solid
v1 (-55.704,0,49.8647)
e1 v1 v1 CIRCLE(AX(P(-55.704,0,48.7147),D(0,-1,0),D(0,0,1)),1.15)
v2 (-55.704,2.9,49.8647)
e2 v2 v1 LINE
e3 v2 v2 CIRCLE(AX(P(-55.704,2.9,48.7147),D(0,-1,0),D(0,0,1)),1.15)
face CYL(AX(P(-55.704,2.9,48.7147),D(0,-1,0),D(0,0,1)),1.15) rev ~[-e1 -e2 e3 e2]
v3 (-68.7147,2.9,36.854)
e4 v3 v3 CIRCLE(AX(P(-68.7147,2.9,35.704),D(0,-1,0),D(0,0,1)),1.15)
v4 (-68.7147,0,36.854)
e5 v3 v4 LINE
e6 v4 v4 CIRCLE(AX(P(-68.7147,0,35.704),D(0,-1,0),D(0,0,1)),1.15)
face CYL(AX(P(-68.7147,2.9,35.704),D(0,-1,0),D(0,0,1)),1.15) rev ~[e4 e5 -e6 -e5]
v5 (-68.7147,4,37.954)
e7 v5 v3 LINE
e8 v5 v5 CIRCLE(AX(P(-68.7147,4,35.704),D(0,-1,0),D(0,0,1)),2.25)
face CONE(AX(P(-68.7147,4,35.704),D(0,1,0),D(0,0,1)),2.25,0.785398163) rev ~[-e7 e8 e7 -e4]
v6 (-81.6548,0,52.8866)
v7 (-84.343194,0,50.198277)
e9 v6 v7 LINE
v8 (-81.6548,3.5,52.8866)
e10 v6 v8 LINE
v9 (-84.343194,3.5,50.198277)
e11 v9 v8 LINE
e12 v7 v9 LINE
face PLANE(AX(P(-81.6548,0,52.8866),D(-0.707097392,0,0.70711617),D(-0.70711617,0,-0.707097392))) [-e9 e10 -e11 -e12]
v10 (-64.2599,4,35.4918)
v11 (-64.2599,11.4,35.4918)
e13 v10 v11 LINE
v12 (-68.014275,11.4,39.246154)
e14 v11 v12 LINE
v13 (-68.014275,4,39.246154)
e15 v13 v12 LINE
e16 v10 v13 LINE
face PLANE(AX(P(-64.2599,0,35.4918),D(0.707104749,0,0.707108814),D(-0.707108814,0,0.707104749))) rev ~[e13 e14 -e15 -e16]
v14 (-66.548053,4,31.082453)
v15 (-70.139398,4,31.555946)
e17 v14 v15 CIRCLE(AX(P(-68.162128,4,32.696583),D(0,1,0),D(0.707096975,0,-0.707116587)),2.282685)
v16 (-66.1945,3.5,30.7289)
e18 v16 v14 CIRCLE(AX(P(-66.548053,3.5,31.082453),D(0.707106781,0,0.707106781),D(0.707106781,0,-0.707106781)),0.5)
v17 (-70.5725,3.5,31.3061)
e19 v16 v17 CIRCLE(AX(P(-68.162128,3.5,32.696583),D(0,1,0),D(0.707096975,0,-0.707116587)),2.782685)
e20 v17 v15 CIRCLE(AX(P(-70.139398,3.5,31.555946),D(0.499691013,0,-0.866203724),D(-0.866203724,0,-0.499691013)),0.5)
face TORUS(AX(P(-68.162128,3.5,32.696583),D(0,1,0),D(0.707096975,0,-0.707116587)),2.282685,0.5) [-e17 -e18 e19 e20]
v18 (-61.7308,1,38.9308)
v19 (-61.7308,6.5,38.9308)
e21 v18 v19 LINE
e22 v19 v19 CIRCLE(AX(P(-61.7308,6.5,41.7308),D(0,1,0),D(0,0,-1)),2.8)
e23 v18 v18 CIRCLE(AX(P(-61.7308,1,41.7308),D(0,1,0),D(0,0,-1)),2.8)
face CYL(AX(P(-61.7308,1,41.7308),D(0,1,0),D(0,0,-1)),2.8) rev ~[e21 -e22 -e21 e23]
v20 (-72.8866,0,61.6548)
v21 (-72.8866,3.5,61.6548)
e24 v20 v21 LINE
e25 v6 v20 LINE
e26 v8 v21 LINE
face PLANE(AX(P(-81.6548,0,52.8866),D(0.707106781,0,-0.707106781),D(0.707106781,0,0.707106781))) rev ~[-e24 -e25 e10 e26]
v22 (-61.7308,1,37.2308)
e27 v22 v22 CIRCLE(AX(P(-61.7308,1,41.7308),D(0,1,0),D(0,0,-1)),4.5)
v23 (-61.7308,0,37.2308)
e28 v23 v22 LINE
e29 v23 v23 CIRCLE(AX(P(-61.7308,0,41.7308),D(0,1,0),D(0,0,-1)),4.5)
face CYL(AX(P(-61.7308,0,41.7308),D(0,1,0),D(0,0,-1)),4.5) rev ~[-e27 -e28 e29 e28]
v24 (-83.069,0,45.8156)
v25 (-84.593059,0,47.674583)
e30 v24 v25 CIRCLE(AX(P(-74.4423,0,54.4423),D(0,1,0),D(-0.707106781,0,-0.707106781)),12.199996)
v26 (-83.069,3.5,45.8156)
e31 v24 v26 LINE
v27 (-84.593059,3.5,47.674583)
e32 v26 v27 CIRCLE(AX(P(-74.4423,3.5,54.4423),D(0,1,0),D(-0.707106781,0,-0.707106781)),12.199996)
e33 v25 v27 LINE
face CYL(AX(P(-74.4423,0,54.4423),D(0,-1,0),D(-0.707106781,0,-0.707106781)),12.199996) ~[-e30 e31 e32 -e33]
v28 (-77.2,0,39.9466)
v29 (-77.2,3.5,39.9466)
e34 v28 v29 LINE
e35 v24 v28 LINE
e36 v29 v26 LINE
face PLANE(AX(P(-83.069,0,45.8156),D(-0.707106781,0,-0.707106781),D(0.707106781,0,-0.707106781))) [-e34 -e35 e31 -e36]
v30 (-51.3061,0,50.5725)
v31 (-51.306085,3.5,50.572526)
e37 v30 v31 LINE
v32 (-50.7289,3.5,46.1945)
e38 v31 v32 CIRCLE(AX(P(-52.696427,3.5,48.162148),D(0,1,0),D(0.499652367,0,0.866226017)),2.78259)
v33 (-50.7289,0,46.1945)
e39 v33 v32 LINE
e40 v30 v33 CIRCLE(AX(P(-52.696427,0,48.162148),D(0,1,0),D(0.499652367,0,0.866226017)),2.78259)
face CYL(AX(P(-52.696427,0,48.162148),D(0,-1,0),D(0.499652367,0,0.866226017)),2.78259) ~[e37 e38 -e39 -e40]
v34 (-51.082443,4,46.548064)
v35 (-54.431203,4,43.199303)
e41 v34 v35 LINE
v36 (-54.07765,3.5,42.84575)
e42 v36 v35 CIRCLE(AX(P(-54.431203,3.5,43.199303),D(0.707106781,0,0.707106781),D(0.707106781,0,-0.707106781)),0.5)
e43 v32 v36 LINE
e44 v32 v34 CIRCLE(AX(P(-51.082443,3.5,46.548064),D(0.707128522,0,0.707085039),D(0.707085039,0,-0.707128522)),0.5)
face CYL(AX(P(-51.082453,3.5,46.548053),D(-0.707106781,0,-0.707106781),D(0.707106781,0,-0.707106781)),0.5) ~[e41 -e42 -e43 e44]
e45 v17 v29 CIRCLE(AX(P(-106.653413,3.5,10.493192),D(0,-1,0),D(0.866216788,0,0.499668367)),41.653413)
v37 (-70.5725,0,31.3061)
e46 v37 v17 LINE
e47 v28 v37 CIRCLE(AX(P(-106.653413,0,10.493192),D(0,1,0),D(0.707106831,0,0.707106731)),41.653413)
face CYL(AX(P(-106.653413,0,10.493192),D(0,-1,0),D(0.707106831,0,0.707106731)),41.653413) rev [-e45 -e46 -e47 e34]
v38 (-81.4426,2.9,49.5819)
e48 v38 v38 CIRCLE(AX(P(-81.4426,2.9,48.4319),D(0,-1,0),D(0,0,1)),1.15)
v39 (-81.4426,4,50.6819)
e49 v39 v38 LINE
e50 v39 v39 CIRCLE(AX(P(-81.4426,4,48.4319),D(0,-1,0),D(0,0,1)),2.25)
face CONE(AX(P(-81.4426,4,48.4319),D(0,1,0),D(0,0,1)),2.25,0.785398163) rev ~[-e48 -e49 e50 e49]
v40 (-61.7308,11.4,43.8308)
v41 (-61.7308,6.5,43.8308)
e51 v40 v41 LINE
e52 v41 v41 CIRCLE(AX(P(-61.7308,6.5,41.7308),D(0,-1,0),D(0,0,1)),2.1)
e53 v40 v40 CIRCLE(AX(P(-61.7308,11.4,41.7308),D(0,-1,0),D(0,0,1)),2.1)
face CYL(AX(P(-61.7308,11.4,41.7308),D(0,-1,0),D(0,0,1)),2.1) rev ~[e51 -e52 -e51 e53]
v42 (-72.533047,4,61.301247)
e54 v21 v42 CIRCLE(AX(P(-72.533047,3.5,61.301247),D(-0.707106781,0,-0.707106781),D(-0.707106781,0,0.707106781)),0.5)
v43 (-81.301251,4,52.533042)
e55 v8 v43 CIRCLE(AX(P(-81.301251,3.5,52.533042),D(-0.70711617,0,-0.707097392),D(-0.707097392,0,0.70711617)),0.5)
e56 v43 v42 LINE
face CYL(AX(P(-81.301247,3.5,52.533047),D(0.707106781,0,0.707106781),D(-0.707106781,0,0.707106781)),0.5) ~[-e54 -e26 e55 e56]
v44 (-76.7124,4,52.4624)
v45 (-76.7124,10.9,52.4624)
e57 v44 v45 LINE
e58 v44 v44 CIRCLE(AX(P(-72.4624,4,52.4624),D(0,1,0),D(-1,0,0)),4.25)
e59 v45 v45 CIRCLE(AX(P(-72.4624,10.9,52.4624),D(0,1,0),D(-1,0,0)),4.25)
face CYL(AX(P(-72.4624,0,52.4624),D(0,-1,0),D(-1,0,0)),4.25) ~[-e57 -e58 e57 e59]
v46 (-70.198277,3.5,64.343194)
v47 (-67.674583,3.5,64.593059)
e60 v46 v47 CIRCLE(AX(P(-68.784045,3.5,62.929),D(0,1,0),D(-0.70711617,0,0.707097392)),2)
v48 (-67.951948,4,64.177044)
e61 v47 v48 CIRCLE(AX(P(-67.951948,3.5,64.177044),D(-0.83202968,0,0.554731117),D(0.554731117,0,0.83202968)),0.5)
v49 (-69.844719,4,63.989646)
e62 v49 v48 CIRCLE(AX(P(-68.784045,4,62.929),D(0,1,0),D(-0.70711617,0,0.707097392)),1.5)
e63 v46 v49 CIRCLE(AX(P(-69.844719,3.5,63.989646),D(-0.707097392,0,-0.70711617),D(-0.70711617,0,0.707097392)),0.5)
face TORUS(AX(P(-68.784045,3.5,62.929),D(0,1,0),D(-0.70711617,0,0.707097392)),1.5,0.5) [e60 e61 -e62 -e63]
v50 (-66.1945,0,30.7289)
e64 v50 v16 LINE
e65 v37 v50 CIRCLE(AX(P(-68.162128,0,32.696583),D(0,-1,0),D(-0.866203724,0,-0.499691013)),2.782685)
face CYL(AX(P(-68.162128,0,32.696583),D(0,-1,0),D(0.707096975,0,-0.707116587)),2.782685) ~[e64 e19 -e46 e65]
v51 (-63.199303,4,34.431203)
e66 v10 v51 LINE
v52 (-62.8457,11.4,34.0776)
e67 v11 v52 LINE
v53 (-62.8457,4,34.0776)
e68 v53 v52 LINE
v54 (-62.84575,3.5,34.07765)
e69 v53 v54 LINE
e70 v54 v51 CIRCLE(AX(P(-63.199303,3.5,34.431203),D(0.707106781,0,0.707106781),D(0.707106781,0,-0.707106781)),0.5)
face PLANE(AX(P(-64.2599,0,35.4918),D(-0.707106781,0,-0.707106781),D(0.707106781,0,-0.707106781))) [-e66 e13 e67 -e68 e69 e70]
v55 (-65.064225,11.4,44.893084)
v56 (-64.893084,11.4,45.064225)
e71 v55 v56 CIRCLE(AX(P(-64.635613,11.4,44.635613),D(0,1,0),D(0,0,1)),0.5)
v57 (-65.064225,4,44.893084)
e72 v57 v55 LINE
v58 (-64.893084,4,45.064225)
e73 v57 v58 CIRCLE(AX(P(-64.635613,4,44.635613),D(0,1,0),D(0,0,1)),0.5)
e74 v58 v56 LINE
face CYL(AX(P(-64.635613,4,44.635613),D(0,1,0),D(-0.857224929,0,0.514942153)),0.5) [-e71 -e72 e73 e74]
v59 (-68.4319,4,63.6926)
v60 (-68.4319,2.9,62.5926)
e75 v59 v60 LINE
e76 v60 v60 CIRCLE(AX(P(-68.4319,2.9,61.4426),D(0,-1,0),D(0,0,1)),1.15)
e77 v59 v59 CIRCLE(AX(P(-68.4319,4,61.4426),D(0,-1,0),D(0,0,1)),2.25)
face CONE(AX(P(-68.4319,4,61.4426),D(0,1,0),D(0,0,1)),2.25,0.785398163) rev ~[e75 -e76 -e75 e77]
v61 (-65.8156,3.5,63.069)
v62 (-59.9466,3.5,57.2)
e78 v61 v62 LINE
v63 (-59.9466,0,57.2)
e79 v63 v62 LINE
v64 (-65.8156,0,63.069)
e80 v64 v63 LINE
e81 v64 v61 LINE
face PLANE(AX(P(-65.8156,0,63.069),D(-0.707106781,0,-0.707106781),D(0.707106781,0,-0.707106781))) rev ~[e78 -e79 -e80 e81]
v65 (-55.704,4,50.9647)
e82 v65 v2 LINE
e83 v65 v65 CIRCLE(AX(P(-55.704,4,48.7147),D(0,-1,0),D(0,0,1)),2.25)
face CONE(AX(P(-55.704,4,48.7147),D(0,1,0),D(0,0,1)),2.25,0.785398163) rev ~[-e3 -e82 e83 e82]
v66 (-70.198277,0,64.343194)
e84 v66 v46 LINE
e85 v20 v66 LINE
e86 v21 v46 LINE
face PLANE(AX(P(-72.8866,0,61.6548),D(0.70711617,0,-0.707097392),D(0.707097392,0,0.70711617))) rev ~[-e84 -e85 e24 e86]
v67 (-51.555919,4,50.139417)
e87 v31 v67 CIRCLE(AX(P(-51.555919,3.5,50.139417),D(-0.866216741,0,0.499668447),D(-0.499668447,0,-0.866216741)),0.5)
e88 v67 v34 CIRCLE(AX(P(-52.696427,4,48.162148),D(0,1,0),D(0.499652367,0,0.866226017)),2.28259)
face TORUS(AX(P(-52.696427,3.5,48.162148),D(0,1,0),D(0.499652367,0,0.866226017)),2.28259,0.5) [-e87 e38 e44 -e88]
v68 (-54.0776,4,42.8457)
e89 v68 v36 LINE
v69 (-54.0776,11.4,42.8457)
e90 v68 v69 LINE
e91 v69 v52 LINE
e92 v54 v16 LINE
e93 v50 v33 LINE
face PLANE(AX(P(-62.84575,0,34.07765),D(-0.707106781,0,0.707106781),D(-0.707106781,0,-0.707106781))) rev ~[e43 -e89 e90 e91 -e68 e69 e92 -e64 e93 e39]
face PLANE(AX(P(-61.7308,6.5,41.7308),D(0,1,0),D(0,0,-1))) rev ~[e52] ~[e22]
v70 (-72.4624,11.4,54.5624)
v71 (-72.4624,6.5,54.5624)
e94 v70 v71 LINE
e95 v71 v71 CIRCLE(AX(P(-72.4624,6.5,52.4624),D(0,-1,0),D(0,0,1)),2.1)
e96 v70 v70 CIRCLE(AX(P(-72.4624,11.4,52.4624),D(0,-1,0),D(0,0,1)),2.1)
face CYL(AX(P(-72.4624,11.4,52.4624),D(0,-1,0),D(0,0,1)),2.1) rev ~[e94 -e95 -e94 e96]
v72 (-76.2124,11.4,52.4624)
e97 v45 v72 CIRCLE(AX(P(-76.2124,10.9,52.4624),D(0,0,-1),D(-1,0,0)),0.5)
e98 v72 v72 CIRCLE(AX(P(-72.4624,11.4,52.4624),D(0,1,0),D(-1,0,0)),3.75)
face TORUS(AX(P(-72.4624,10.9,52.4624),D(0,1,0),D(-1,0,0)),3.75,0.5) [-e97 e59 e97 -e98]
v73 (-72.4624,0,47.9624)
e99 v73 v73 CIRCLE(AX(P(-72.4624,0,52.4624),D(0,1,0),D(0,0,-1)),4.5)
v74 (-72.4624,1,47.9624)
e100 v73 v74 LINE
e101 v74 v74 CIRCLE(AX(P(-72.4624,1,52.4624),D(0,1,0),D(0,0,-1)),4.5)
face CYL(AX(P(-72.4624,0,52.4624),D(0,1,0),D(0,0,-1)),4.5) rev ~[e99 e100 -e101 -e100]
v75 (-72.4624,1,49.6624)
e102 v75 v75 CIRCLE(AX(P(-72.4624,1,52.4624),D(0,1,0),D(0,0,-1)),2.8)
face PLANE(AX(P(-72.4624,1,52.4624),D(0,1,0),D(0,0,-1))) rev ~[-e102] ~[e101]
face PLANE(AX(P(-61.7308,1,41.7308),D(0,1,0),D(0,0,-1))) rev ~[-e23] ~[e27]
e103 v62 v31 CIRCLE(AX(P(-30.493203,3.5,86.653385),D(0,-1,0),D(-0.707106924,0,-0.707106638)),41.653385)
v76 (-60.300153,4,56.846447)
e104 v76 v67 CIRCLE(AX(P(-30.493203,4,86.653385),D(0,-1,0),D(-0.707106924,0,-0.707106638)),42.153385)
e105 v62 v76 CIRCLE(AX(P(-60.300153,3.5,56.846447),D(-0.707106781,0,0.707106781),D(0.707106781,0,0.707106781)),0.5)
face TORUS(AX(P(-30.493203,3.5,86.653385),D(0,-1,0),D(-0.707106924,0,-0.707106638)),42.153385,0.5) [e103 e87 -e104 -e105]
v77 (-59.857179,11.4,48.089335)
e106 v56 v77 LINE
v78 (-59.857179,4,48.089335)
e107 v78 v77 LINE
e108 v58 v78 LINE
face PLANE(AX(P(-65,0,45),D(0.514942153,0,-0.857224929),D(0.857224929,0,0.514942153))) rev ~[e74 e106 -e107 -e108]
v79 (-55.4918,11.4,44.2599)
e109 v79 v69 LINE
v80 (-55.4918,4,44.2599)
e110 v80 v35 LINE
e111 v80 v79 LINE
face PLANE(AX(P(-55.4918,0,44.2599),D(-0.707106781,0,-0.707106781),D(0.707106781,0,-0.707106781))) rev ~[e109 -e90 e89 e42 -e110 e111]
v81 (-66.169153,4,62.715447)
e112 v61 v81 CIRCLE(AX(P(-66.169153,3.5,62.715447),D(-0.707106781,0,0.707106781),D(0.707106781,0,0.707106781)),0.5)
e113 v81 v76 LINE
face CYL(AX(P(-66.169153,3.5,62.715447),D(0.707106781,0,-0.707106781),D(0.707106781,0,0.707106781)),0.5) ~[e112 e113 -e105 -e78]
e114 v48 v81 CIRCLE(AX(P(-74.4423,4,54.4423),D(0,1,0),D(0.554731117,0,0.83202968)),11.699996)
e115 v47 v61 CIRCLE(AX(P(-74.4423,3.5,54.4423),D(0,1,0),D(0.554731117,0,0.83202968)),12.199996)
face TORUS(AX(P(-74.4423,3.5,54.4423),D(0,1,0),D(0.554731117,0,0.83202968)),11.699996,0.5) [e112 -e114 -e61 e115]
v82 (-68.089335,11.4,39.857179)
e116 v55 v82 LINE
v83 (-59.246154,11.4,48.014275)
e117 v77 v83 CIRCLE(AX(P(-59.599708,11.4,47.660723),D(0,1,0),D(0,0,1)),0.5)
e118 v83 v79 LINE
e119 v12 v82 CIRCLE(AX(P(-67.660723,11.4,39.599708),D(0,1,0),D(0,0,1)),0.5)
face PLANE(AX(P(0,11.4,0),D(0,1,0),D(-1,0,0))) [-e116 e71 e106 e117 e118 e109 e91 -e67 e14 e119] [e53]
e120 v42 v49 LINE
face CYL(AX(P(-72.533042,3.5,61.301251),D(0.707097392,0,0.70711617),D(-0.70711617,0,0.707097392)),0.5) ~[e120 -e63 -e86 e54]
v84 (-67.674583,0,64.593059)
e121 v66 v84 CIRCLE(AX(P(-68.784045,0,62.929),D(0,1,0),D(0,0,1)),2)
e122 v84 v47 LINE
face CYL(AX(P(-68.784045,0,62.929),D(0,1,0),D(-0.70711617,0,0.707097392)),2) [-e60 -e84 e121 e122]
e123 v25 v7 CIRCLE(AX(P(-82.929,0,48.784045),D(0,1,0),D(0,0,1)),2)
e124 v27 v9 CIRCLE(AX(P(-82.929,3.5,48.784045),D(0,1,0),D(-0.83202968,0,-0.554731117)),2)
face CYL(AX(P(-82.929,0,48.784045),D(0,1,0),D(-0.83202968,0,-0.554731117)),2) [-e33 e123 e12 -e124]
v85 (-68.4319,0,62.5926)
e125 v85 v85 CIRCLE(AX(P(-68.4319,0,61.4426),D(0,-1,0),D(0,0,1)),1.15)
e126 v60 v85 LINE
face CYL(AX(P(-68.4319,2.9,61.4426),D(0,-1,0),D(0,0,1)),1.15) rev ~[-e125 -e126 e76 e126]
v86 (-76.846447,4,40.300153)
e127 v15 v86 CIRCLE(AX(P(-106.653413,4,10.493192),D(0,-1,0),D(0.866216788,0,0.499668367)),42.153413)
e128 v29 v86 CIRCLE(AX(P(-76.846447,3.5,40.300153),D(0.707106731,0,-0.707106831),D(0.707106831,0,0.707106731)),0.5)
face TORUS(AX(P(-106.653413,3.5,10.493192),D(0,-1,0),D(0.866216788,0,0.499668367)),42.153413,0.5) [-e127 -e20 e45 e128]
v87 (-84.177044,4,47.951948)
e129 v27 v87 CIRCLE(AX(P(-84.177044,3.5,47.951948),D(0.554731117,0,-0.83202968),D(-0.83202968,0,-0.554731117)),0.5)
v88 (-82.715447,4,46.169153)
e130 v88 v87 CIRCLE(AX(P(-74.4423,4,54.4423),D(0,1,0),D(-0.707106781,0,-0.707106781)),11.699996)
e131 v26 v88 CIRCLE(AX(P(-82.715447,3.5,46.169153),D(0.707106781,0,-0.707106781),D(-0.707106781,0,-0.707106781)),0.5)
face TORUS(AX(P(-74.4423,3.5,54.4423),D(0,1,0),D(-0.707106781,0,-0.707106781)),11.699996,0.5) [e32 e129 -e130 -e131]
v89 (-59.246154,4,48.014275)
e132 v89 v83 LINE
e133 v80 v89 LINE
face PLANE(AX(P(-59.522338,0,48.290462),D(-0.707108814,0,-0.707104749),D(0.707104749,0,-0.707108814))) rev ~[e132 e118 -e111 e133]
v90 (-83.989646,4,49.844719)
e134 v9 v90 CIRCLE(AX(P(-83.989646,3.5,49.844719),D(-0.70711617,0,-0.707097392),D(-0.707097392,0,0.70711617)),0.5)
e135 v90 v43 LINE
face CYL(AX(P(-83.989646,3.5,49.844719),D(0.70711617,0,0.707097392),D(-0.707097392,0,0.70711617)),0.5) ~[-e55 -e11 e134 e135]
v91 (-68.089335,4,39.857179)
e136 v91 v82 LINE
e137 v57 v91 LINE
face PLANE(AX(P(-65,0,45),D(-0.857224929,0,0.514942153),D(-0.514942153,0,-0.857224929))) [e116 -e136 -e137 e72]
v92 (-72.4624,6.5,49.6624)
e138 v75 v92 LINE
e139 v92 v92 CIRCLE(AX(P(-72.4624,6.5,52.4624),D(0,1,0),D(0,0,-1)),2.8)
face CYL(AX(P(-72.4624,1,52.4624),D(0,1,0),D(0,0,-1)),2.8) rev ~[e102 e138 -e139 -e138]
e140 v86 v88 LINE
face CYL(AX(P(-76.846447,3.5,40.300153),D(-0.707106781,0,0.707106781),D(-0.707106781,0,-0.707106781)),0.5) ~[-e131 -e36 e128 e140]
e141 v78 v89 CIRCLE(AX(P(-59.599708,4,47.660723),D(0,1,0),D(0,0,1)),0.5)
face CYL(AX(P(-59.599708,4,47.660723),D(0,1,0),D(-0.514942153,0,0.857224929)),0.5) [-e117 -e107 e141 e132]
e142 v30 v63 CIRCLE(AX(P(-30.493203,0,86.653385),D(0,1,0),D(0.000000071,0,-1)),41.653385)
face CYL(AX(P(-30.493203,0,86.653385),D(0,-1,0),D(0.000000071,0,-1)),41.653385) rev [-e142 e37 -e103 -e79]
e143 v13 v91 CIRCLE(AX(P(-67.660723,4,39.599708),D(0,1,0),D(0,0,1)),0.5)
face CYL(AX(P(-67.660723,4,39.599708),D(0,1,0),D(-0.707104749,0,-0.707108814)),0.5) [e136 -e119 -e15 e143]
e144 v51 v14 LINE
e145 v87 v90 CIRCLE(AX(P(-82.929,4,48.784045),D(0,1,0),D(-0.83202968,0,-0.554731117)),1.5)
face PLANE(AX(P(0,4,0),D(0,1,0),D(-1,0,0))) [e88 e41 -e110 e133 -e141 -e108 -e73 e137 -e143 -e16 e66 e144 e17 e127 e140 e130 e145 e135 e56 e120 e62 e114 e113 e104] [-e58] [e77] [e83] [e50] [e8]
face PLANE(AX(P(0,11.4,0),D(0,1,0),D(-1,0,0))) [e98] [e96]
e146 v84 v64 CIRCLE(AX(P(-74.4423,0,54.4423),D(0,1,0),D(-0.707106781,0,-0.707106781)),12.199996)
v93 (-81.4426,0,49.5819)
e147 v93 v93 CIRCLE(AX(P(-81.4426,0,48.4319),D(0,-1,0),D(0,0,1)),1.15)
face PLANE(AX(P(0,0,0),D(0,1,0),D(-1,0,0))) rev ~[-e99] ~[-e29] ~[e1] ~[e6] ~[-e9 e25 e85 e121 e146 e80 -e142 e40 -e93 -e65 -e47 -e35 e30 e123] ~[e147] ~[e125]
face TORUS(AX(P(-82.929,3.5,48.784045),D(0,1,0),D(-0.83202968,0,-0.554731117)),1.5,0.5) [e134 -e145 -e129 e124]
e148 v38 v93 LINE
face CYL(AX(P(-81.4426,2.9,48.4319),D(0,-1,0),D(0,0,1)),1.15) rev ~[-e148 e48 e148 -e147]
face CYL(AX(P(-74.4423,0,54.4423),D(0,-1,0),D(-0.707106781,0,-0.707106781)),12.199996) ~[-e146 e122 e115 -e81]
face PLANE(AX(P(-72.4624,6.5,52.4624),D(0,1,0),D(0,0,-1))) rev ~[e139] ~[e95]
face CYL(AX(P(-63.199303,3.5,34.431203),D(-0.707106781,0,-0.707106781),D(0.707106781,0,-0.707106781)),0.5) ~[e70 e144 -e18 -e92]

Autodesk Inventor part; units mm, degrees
ref_plane "YZ Plane" through (0, 0, 0) normal (1, 0, 0) x (0, 1, 0)
ref_plane "XZ Plane" through (0, 0, 0) normal (0, 1, 0) x (-1, 0, 0)
ref_plane "XY Plane" through (0, 0, 0) normal (0, 0, 1) x (1, 0, 0)
sketch "Sketch1" plane through (0, 0, 0) normal (0, 1, 0) x (-1, 0, 0)
  line L0 (0, 114.5515) -> (0, -115.3375) construction
  line L1 (119.911, 0) -> (-136.2846, 0) construction
  line L2 (65, 45) -> (30.4932, 45) construction
  line L3 (-65, 45) -> (-65, 10.4932) construction
  line L4 (-65, -45) -> (-19.7, -45) construction
  line L5 (65, -45) -> (65, -10.4932) construction
  line L6 (64.2599, -35.4918) -> (81.6548, -52.8866) construction
  line L7 (81.6548, -52.8866) -> (72.8866, -61.6548) construction
  line L8 (72.8866, -61.6548) -> (55.4918, -44.2599) construction
  line L9 (55.4918, -44.2599) -> (64.2599, -35.4918) construction
  line L10 (64.2599, 35.4918) -> (81.6548, 52.8866)
  line L11 (81.6548, 52.8866) -> (72.8866, 61.6548)
  line L12 (72.8866, 61.6548) -> (55.4918, 44.2599)
  line L13 (55.4918, 44.2599) -> (59.8759, 39.8759)
  line L14 (-55.4918, 44.2599) -> (-72.8866, 61.6548) construction
  line L15 (-72.8866, 61.6548) -> (-81.6548, 52.8866) construction
  line L16 (-81.6548, 52.8866) -> (-64.2599, 35.4918) construction
  line L17 (-64.2599, 35.4918) -> (-55.4918, 44.2599) construction
  line L18 (-55.4918, -44.2599) -> (-72.8866, -61.6548) construction
  line L19 (-72.8866, -61.6548) -> (-81.6548, -52.8866) construction
  line L20 (-81.6548, -52.8866) -> (-64.2599, -35.4918) construction
  line L21 (-64.2599, -35.4918) -> (-55.4918, -44.2599) construction
  line L22 (55, 30) -> (-15, 30) construction
  line L23 (-15, 30) -> (-15, -30) construction
  line L24 (-15, -30) -> (55, -30) construction
  line L25 (55, -30) -> (55, 30) construction
  line L26 (72.9574, 44.1892) -> (64.1892, 52.9574) construction
  line L27 (68.0783, 56.8464) -> (76.8464, 48.0783) construction
  circle A0 centre (72.4624, 52.4624) radius 4.25
  line L28 (72.9574, -44.1892) -> (64.1892, -52.9574) construction
  line L29 (76.8464, -48.0783) -> (68.0783, -56.8464) construction
  circle A1 centre (72.4624, -52.4624) radius 4.25 construction
  line L30 (-64.1892, 52.9574) -> (-72.9574, 44.1892) construction
  line L31 (-68.0783, 56.8464) -> (-76.8464, 48.0783) construction
  circle A2 centre (-72.4624, 52.4624) radius 4.25 construction
  line L32 (-72.9574, -44.1892) -> (-64.1892, -52.9574) construction
  line L33 (-76.8464, -48.0783) -> (-68.0783, -56.8464) construction
  circle A3 centre (-72.4624, -52.4624) radius 4.25 construction
  line L34 (6.8, 51.2) -> (-17.8, 51.2) construction
  line L35 (-17.8, 51.2) -> (-17.8, 38.8) construction
  line L36 (-17.8, 38.8) -> (6.8, 38.8) construction
  line L37 (6.8, 38.8) -> (6.8, 51.2) construction
  line L38 (6.8, -38.8) -> (-17.8, -38.8) construction
  line L39 (-17.8, -38.8) -> (-17.8, -51.2) construction
  line L40 (-17.8, -51.2) -> (6.8, -51.2) construction
  line L41 (6.8, -51.2) -> (6.8, -38.8) construction
  line L42 (6.8, 45) -> (-17.8, 45) construction
  line L43 (-5.5, 51.2) -> (-5.5, 38.8) construction
  line L44 (0, 51.2) -> (0, 38.8) construction
  line L45 (6.8, -45) -> (-17.8, -45) construction
  line L46 (-5.5, -38.8) -> (-5.5, -51.2) construction
  line L47 (0, -38.8) -> (0, -51.2) construction
  circle A4 centre (0, 45) radius 4.25 construction
  circle A5 centre (0, -45) radius 4.25 construction
  line L48 (20, 30) -> (20, -30) construction
  line L49 (8.8, 57.2) -> (-19.8, 57.2) construction
  line L50 (8.8, -57.2) -> (-19.8, -57.2) construction
  line L51 (8.8, 57.2) -> (8.8, 45) construction
  line L52 (-19.8, 57.2) -> (-19.8, 45) construction
  line L53 (8.8, -57.2) -> (8.8, -45) construction
  line L54 (-19.8, -57.2) -> (-19.8, -45) construction
  line L55 (65.8156, 63.069) -> (59.9466, 57.2)
  line L56 (83.069, 45.8156) -> (77.2, 39.9466)
  line L57 (64.1892, 52.9574) -> (59.9466, 57.2) construction
  line L58 (72.9574, 44.1892) -> (77.2, 39.9466) construction
  arc A6 (83.069, 45.8156) -> (65.8156, 63.069) centre (74.4423, 54.4423) ccw
  line L59 (-59.9466, 57.2) -> (-65.8156, 63.069) construction
  line L60 (-83.069, 45.8156) -> (-77.2, 39.9466) construction
  line L61 (-59.9466, 57.2) -> (-64.1892, 52.9574) construction
  line L62 (-77.2, 39.9466) -> (-72.9574, 44.1892) construction
  arc A7 (-65.8156, 63.069) -> (-83.069, 45.8156) centre (-74.4423, 54.4423) ccw construction
  line L63 (72.9574, -44.1892) -> (77.2, -39.9466) construction
  line L64 (77.2, -39.9466) -> (83.069, -45.8156) construction
  line L65 (64.1892, -52.9574) -> (59.9466, -57.2) construction
  line L66 (59.9466, -57.2) -> (65.8156, -63.069) construction
  arc A8 (65.8156, -63.069) -> (83.069, -45.8156) centre (74.4423, -54.4423) ccw construction
  line L67 (-72.9574, -44.1892) -> (-77.2, -39.9466) construction
  line L68 (-64.1892, -52.9574) -> (-59.9466, -57.2) construction
  line L69 (-59.9466, -57.2) -> (-65.8156, -63.069) construction
  line L70 (-77.2, -39.9466) -> (-83.069, -45.8156) construction
  arc A9 (-83.069, -45.8156) -> (-65.8156, -63.069) centre (-74.4423, -54.4423) ccw construction
  arc A10 (23.5363, -45) -> (8.8, -57.2) centre (23.5363, -60) ccw construction
  arc A11 (59.9466, -57.2) -> (30.4932, -45) centre (30.4932, -86.6534) ccw construction
  arc A12 (65, -10.4932) -> (77.2, -39.9466) centre (106.6534, -10.4932) ccw construction
  arc A13 (77.2, 39.9466) -> (65, 10.4932) centre (106.6534, 10.4932) ccw
  arc A14 (30.4932, 45) -> (59.9466, 57.2) centre (30.4932, 86.6534) ccw
  arc A15 (8.8, 57.2) -> (23.5363, 45) centre (23.5363, 60) ccw construction
  arc A16 (-65, 10.4932) -> (-77.2, 39.9466) centre (-106.6534, 10.4932) ccw construction
  arc A17 (-77.2, -39.9466) -> (-65, -10.4932) centre (-106.6534, -10.4932) ccw construction
  line L71 (72.4624, -52.4624) -> (-72.4624, -52.4624) construction
  line L72 (-72.4624, 52.4624) -> (72.4624, 52.4624) construction
  line L73 (-59.9466, 57.2) -> (-59.9466, 45) construction
  line L74 (-59.9466, -57.2) -> (-59.9466, -45) construction
  arc A18 (-19.8, -57.2) -> (-34.5363, -45) centre (-34.5363, -60) ccw construction
  arc A19 (-30.4932, -45) -> (-59.9466, -57.2) centre (-30.4932, -86.6534) ccw construction
  arc A20 (-34.5363, 45) -> (-33.0208, 45.0768) centre (-34.5363, 60) ccw construction
  arc A21 (-59.9466, 57.2) -> (-33.0208, 45.0768) centre (-30.4932, 86.6534) ccw construction
  line L75 (72.8866, 61.6548) -> (75.7151, 64.4832) construction
  line L76 (75.7151, 64.4832) -> (84.4832, 55.7151) construction
  line L77 (84.4832, 55.7151) -> (81.6548, 52.8866) construction
  line L78 (78.6142, 58.6142) -> (58.5324, 38.5324) construction
  line L79 (58.5324, -38.5324) -> (78.6142, -58.6142) construction
  line L80 (-78.6142, 58.6142) -> (-58.5324, 38.5324) construction
  line L81 (-78.6142, -58.6142) -> (-58.5324, -38.5324) construction
  line L82 (74.4423, 54.4423) -> (77.2707, 57.2707) construction
  line L83 (74.4423, -54.4423) -> (77.2707, -57.2707) construction
  line L84 (-74.4423, -54.4423) -> (-77.2707, -57.2707) construction
  line L85 (-74.4423, 54.4423) -> (-77.2707, 57.2707) construction
  line L86 (-19.7, 45) -> (-65, 45) construction
  line L87 (8.7, 45) -> (-19.7, 45) construction
  line L88 (8.7, -45) -> (23.5363, -45) construction
  line L89 (-19.7, -45) -> (8.7, -45) construction
  line L90 (81.6548, 52.8866) -> (85.4206, 49.1209)
  line L91 (72.8866, 61.6548) -> (69.1209, 65.4206)
  line L92 (79.4627, 55.0787) -> (74.6544, 50.2704) construction
  line L93 (70.2704, -54.6544) -> (75.0787, -59.4627) construction
  line L94 (0, -48.1) -> (6.8, -48.1) construction
  line L95 (-74.6544, -50.2704) -> (-79.4627, -55.0787) construction
  line L96 (-75.0787, 59.4627) -> (-70.2704, 54.6544) construction
  line L97 (0, 48.1) -> (6.8, 48.1) construction
  line L98 (81.6548, -52.8866) -> (85.4206, -49.1209) construction
  line L99 (72.8866, -61.6548) -> (69.1209, -65.4206) construction
  line L100 (-72.8866, -61.6548) -> (-69.1209, -65.4206) construction
  line L101 (-81.6548, -52.8866) -> (-85.4206, -49.1209) construction
  line L102 (-72.8866, 61.6548) -> (-69.1209, 65.4206) construction
  line L103 (-81.6548, 52.8866) -> (-85.4206, 49.1209) construction
  line L104 (30.4932, 45) -> (23.5363, 45) construction
  line L105 (23.5363, 45) -> (8.7, 45) construction
  arc A22 (-33.0208, 45.0768) -> (-30.4932, 45) centre (-30.4932, 86.6534) ccw construction
  arc A23 (-33.0208, 45.0768) -> (-19.8, 57.2) centre (-34.5363, 60) ccw construction
  line L106 (-21.6459, 42) -> (-51.6459, 42) construction
  line L107 (-51.6459, 42) -> (-51.6459, -42) construction
  line L108 (-51.6459, -42) -> (-21.6459, -42) construction
  line L109 (-21.6459, -42) -> (-21.6459, 42) construction
  line L110 (52, 27) -> (55, 27) construction
  line L111 (52, -27) -> (55, -27) construction
  line L112 (52, 27) -> (52, 30) construction
  line L113 (-12, 27) -> (-12, 30) construction
  line L114 (-12, 27) -> (-15, 27) construction
  line L115 (-15, -27) -> (-12, -27) construction
  line L116 (-12, -27) -> (-12, -30) construction
  line L117 (52, -27) -> (52, -30) construction
  line L118 (-19.1459, 10) -> (-20.6459, 10) construction
  line L119 (-20.6459, 10) -> (-20.6459, -10) construction
  line L120 (-20.6459, -10) -> (-19.1459, -10) construction
  line L121 (-19.1459, -10) -> (-19.1459, 10) construction
  line L122 (-19.1459, 0) -> (-20.6459, 0) construction
  line L123 (-36.6459, 42) -> (-36.6459, -42) construction
  line L124 (-52.6459, 10) -> (-54.1459, 10) construction
  line L125 (-54.1459, 10) -> (-54.1459, -10) construction
  line L126 (-54.1459, -10) -> (-52.6459, -10) construction
  line L127 (-52.6459, -10) -> (-52.6459, 10) construction
  line L128 (-52.6459, 0) -> (-54.1459, 0) construction
  line L129 (30.4932, -45) -> (65, -45) construction
  line L130 (23.5363, -45) -> (30.4932, -45) construction
  line L131 (65, -10.4932) -> (65, 10.4932) construction
  line L132 (65, 10.4932) -> (65, 45) construction
  arc A24 (68.1707, 26.4333) -> (64.2599, 35.4918) centre (54.8044, 26.0363) ccw
  arc A25 (55.4918, 44.2599) -> (46.4333, 48.1707) centre (46.0363, 34.8044) ccw
  arc A26 (64.2599, -35.4918) -> (68.1707, -26.4333) centre (54.8044, -26.0363) ccw construction
  arc A27 (46.4333, -48.1707) -> (55.4918, -44.2599) centre (46.0363, -34.8044) ccw construction
  arc A28 (-55.4918, -44.2599) -> (-46.4333, -48.1707) centre (-46.0363, -34.8044) ccw construction
  arc A29 (-68.1707, -26.4333) -> (-64.2599, -35.4918) centre (-54.8044, -26.0363) ccw construction
  arc A30 (-47.594, 48.6723) -> (-55.4918, 44.2599) centre (-43.7511, 32.5192) ccw construction
  arc A31 (-64.2599, 35.4918) -> (-68.1707, 26.4333) centre (-54.8044, 26.0363) ccw construction
  line L133 (-65, 10.4932) -> (-65, -10.4932) construction
  line L134 (-65, -10.4932) -> (-65, -45) construction
  line L135 (-55.4918, 44.2599) -> (-55.4918, -44.2599) construction
  arc A32 (-19.9504, 56.5) -> (-17.8, 51.2) centre (-15.1706, 55.3531) ccw construction
  arc A33 (6.8, 51.2) -> (8.9504, 56.5) centre (4.1706, 55.3531) ccw construction
  arc A34 (8.9504, -56.5) -> (6.8, -51.2) centre (4.1706, -55.3531) ccw construction
  arc A35 (-17.8, -51.2) -> (-19.9504, -56.5) centre (-15.1706, -55.3531) ccw construction
  line L136 (-17.8, 38.8) -> (-17.8, 32.8) construction
  line L137 (-17.8, 32.8) -> (6.8, 32.8) construction
  line L138 (6.8, 32.8) -> (6.8, 38.8) construction
  line L139 (-17.8, -38.8) -> (-17.8, -32.8) construction
  line L140 (-17.8, -32.8) -> (6.8, -32.8) construction
  line L141 (6.8, -32.8) -> (6.8, -38.8) construction
  line L142 (81.4426, 48.4319) -> (68.4319, 61.4426) construction
  line L143 (68.4319, 61.4426) -> (55.704, 48.7147) construction
  line L144 (55.704, 48.7147) -> (68.7147, 35.704) construction
  line L145 (68.7147, 35.704) -> (81.4426, 48.4319) construction
  line L146 (65, 45) -> (59.5223, 48.2905)
  line L147 (65, 45) -> (68.2905, 39.5223)
  line L148 (68.2905, 39.5223) -> (59.5223, 48.2905) construction
  circle A36 centre (72.4624, 52.4624) radius 3.6
  line L149 (63.2232, 40.2385) -> (60.077, 43.3846)
  line L150 (59.8759, 39.8759) -> (64.2599, 35.4918)
  circle A37 centre (61.7308, 41.7308) radius 2.8
  arc A38 (51.3061, 50.5725) -> (51.4898, 47.014) centre (52.3054, 48.8401) ccw construction
  arc A39 (67.014, 31.4898) -> (70.5725, 31.3061) centre (68.8401, 32.3054) ccw construction
  line L151 (50.7289, 46.1945) -> (66.1945, 30.7289)
  arc A40 (66.1945, 30.7289) -> (70.5725, 31.3061) centre (68.1621, 32.6965) ccw
  arc A41 (51.3061, 50.5725) -> (50.7289, 46.1945) centre (52.6965, 48.1621) ccw
  line L152 (55.4918, 44.2599) -> (54.0776, 42.8457)
  line L153 (64.2599, 35.4918) -> (62.8457, 34.0776)
  line L154 (58.5324, 38.5324) -> (58.4617, 38.4617) construction
  point P0 (0, 0)
  point P1 (65.0004, 0)
  point P2 (55, 0)
  point P3 (59.8759, -39.8759)
  point P4 (-59.8759, 39.8759)
  point P5 (-58.5324, -38.5324)
  point P6 (-59.8759, -39.8759)
  point P7 (0, 45)
  point P8 (-33.9298, 45.0048)
  point P9 (-33.0208, -45.0768)
  point P10 (-54.6887, -45)
  point P11 (-56.2319, -45)
  point P12 (-56.2319, 45)
  point P13 (-54.7019, 45)
  dimension "d0" = 135
  dimension "d4" = 24.6
  dimension "d5" = 12.4
  dimension "d6" = 70
  dimension "d7" = 60
  dimension "d9" = 8.5
  dimension "d10" = 135
  dimension "d12" = 6
  dimension "d13" = 2
  dimension "d14" = 2
  dimension "d16" = 20
  dimension "d23" = 6
  dimension "d29" = 130
  dimension "d32" = 15
  dimension "d33" = 4
  dimension "d34" = 28.4
  dimension "d38" = 4
  dimension "d40" = 6.8
  dimension "d49" = 30
  dimension "d50" = 84
  dimension "d51" = 3
  dimension "d52" = 3
  dimension "d53" = 1.5
  dimension "d54" = 20
  dimension "d59" = 1
  dimension "d60" = 90
  dimension "d61" = 135
  dimension "d70" = 135
  dimension "d82" = 0.7
  dimension "d83" = 0.7
  dimension "d84" = 0.7
  dimension "d85" = 0.7
  dimension "d86" = 6
  dimension "d108" = 18
  dimension "d134" = 5.7
  dimension "d135" = 7.2
  dimension "d143" = 5.6
  dimension "d166" = 2
  dimension "d167" = 2
extrude "Extrusion12" add sketch "Sketch1" along normal blind 4 contours L10 L90 A6 L56 A13 A40 A24 | A24 A40 L151 L153 | L151 A41 A25 L152 | L12 A25 A41 A14 L55 A6 L91
extrude "Extrusion13" add sketch "Sketch1" along normal blind 4 contours L147 L146 L12 L11 L10
extrude "Extrusion14" add sketch "Sketch1" along normal blind 11.4 contours A0 | A36
extrude "Extrusion15" add sketch "Sketch1" along normal blind 11.4 contours L150 A37 L13 L12 L146 L147 L10 | L153 L151 L152 L13 A37 L150 | A37 L13 L150 | L150 L13 A37
sketch "Sketch3" plane through (0, 11.4, 0) normal (0, 1, 0) x (1, 0, 0)
  line L0 (-68.2905, -39.5223) -> (-65, -45) projected
  line L1 (-65, -45) -> (-59.5223, -48.2905) projected
  line L2 (-68.2905, -39.5223) -> (-65, -45) projected
  line L3 (-65, -45) -> (-58.4617, -38.4617) construction
  line L4 (-64.9493, -38.5124) -> (-58.4843, -44.9774) construction
  line L5 (-62.8457, -34.0776) -> (-68.2905, -39.5223) projected
  line L6 (-59.5223, -48.2905) -> (-54.0776, -42.8457) projected
  line L7 (-54.0776, -42.8457) -> (-62.8457, -34.0776) projected
  point P0 (0, 0)
  point P1 (-61.7308, -41.7308)
fillet "Fillet10" radius 2 2 edges at (-85.4206, 2, 49.1209) (-69.1209, 2, 65.4206)
fillet "Fillet11" radius 0.5 13 edges at (-68.9811, 4, 64.9192) (-84.9192, 4, 48.9811) (-55.8439, 4, 53.6027) (-62.8811, 4, 60.1345) (-66.7074, 4, 63.8769) (-77.2707, 4, 57.2707) (-73.6027, 4, 35.8439) (-80.1345, 4, 42.8811) (-83.8769, 4, 46.7074) (-68.2124, 11.4, 52.4624) (-59.5223, 7.7, 48.2905) (-65, 7.7, 45) (-68.2905, 7.7, 39.5223)
sketch "Sketch2" plane through (-72.4624, 11.4, 52.4624) normal (0, 1, 0) x (1, 0, 0)
  circle A0 centre (0, 0) radius 4.25 projected
  point P0 (72.4624, 52.4624)
hole "Hole3" at (-72.4624, 11.4, 52.4624) direction (0, -1, 0) diameter 4.2 depth 11.4
hole "Hole5" at (-61.7308, 11.4, 41.7308) direction (0, -1, 0) diameter 4.2 depth 11.4
hole "Hole6" at (-72.4624, 0, -52.4624) at (72.4624, 0, 52.4624) at (72.4624, 0, -52.4624) at (0, 0, 45) at (0, 0, -45) at (78.6142, 0, 58.6142) at (78.6142, 0, -58.6142) at (-58.5324, 0, -38.5324) at (-78.6142, 0, -58.6142) at (58.5324, 0, 38.5324) at (58.5324, 0, -38.5324) at (-8.7, 0, 45) at (19.7, 0, 45) at (-8.7, 0, -45) at (19.7, 0, -45) at (12, 0, 27) at (12, 0, -27) at (-52, 0, -27) at (-52, 0, 27) at (-72.4624, 0, 52.4624) at (-61.7308, 0, 41.7308) direction (0, 1, 0) diameter 5.6 depth 6.5 counterbore diameter 9 counterbore depth 1
sketch "Sketch5" plane through (0, 4, 0) normal (0, 1, 0) x (1, 0, 0)
  point P0 (0, 0)
  point P1 (-68.4319, -61.4426)
  point P2 (-55.704, -48.7147)
  point P3 (-68.7147, -35.704)
  point P4 (-81.4426, -48.4319)
hole "Hole7" at (-68.4319, 4, 61.4426) at (-55.704, 4, 48.7147) at (-68.7147, 4, 35.704) at (-81.4426, 4, 48.4319) direction (0, -1, 0) diameter 2.3 depth 6.5 countersink diameter 4.5 countersink angle 90
properties part number "LegPin_Middle_v1"
